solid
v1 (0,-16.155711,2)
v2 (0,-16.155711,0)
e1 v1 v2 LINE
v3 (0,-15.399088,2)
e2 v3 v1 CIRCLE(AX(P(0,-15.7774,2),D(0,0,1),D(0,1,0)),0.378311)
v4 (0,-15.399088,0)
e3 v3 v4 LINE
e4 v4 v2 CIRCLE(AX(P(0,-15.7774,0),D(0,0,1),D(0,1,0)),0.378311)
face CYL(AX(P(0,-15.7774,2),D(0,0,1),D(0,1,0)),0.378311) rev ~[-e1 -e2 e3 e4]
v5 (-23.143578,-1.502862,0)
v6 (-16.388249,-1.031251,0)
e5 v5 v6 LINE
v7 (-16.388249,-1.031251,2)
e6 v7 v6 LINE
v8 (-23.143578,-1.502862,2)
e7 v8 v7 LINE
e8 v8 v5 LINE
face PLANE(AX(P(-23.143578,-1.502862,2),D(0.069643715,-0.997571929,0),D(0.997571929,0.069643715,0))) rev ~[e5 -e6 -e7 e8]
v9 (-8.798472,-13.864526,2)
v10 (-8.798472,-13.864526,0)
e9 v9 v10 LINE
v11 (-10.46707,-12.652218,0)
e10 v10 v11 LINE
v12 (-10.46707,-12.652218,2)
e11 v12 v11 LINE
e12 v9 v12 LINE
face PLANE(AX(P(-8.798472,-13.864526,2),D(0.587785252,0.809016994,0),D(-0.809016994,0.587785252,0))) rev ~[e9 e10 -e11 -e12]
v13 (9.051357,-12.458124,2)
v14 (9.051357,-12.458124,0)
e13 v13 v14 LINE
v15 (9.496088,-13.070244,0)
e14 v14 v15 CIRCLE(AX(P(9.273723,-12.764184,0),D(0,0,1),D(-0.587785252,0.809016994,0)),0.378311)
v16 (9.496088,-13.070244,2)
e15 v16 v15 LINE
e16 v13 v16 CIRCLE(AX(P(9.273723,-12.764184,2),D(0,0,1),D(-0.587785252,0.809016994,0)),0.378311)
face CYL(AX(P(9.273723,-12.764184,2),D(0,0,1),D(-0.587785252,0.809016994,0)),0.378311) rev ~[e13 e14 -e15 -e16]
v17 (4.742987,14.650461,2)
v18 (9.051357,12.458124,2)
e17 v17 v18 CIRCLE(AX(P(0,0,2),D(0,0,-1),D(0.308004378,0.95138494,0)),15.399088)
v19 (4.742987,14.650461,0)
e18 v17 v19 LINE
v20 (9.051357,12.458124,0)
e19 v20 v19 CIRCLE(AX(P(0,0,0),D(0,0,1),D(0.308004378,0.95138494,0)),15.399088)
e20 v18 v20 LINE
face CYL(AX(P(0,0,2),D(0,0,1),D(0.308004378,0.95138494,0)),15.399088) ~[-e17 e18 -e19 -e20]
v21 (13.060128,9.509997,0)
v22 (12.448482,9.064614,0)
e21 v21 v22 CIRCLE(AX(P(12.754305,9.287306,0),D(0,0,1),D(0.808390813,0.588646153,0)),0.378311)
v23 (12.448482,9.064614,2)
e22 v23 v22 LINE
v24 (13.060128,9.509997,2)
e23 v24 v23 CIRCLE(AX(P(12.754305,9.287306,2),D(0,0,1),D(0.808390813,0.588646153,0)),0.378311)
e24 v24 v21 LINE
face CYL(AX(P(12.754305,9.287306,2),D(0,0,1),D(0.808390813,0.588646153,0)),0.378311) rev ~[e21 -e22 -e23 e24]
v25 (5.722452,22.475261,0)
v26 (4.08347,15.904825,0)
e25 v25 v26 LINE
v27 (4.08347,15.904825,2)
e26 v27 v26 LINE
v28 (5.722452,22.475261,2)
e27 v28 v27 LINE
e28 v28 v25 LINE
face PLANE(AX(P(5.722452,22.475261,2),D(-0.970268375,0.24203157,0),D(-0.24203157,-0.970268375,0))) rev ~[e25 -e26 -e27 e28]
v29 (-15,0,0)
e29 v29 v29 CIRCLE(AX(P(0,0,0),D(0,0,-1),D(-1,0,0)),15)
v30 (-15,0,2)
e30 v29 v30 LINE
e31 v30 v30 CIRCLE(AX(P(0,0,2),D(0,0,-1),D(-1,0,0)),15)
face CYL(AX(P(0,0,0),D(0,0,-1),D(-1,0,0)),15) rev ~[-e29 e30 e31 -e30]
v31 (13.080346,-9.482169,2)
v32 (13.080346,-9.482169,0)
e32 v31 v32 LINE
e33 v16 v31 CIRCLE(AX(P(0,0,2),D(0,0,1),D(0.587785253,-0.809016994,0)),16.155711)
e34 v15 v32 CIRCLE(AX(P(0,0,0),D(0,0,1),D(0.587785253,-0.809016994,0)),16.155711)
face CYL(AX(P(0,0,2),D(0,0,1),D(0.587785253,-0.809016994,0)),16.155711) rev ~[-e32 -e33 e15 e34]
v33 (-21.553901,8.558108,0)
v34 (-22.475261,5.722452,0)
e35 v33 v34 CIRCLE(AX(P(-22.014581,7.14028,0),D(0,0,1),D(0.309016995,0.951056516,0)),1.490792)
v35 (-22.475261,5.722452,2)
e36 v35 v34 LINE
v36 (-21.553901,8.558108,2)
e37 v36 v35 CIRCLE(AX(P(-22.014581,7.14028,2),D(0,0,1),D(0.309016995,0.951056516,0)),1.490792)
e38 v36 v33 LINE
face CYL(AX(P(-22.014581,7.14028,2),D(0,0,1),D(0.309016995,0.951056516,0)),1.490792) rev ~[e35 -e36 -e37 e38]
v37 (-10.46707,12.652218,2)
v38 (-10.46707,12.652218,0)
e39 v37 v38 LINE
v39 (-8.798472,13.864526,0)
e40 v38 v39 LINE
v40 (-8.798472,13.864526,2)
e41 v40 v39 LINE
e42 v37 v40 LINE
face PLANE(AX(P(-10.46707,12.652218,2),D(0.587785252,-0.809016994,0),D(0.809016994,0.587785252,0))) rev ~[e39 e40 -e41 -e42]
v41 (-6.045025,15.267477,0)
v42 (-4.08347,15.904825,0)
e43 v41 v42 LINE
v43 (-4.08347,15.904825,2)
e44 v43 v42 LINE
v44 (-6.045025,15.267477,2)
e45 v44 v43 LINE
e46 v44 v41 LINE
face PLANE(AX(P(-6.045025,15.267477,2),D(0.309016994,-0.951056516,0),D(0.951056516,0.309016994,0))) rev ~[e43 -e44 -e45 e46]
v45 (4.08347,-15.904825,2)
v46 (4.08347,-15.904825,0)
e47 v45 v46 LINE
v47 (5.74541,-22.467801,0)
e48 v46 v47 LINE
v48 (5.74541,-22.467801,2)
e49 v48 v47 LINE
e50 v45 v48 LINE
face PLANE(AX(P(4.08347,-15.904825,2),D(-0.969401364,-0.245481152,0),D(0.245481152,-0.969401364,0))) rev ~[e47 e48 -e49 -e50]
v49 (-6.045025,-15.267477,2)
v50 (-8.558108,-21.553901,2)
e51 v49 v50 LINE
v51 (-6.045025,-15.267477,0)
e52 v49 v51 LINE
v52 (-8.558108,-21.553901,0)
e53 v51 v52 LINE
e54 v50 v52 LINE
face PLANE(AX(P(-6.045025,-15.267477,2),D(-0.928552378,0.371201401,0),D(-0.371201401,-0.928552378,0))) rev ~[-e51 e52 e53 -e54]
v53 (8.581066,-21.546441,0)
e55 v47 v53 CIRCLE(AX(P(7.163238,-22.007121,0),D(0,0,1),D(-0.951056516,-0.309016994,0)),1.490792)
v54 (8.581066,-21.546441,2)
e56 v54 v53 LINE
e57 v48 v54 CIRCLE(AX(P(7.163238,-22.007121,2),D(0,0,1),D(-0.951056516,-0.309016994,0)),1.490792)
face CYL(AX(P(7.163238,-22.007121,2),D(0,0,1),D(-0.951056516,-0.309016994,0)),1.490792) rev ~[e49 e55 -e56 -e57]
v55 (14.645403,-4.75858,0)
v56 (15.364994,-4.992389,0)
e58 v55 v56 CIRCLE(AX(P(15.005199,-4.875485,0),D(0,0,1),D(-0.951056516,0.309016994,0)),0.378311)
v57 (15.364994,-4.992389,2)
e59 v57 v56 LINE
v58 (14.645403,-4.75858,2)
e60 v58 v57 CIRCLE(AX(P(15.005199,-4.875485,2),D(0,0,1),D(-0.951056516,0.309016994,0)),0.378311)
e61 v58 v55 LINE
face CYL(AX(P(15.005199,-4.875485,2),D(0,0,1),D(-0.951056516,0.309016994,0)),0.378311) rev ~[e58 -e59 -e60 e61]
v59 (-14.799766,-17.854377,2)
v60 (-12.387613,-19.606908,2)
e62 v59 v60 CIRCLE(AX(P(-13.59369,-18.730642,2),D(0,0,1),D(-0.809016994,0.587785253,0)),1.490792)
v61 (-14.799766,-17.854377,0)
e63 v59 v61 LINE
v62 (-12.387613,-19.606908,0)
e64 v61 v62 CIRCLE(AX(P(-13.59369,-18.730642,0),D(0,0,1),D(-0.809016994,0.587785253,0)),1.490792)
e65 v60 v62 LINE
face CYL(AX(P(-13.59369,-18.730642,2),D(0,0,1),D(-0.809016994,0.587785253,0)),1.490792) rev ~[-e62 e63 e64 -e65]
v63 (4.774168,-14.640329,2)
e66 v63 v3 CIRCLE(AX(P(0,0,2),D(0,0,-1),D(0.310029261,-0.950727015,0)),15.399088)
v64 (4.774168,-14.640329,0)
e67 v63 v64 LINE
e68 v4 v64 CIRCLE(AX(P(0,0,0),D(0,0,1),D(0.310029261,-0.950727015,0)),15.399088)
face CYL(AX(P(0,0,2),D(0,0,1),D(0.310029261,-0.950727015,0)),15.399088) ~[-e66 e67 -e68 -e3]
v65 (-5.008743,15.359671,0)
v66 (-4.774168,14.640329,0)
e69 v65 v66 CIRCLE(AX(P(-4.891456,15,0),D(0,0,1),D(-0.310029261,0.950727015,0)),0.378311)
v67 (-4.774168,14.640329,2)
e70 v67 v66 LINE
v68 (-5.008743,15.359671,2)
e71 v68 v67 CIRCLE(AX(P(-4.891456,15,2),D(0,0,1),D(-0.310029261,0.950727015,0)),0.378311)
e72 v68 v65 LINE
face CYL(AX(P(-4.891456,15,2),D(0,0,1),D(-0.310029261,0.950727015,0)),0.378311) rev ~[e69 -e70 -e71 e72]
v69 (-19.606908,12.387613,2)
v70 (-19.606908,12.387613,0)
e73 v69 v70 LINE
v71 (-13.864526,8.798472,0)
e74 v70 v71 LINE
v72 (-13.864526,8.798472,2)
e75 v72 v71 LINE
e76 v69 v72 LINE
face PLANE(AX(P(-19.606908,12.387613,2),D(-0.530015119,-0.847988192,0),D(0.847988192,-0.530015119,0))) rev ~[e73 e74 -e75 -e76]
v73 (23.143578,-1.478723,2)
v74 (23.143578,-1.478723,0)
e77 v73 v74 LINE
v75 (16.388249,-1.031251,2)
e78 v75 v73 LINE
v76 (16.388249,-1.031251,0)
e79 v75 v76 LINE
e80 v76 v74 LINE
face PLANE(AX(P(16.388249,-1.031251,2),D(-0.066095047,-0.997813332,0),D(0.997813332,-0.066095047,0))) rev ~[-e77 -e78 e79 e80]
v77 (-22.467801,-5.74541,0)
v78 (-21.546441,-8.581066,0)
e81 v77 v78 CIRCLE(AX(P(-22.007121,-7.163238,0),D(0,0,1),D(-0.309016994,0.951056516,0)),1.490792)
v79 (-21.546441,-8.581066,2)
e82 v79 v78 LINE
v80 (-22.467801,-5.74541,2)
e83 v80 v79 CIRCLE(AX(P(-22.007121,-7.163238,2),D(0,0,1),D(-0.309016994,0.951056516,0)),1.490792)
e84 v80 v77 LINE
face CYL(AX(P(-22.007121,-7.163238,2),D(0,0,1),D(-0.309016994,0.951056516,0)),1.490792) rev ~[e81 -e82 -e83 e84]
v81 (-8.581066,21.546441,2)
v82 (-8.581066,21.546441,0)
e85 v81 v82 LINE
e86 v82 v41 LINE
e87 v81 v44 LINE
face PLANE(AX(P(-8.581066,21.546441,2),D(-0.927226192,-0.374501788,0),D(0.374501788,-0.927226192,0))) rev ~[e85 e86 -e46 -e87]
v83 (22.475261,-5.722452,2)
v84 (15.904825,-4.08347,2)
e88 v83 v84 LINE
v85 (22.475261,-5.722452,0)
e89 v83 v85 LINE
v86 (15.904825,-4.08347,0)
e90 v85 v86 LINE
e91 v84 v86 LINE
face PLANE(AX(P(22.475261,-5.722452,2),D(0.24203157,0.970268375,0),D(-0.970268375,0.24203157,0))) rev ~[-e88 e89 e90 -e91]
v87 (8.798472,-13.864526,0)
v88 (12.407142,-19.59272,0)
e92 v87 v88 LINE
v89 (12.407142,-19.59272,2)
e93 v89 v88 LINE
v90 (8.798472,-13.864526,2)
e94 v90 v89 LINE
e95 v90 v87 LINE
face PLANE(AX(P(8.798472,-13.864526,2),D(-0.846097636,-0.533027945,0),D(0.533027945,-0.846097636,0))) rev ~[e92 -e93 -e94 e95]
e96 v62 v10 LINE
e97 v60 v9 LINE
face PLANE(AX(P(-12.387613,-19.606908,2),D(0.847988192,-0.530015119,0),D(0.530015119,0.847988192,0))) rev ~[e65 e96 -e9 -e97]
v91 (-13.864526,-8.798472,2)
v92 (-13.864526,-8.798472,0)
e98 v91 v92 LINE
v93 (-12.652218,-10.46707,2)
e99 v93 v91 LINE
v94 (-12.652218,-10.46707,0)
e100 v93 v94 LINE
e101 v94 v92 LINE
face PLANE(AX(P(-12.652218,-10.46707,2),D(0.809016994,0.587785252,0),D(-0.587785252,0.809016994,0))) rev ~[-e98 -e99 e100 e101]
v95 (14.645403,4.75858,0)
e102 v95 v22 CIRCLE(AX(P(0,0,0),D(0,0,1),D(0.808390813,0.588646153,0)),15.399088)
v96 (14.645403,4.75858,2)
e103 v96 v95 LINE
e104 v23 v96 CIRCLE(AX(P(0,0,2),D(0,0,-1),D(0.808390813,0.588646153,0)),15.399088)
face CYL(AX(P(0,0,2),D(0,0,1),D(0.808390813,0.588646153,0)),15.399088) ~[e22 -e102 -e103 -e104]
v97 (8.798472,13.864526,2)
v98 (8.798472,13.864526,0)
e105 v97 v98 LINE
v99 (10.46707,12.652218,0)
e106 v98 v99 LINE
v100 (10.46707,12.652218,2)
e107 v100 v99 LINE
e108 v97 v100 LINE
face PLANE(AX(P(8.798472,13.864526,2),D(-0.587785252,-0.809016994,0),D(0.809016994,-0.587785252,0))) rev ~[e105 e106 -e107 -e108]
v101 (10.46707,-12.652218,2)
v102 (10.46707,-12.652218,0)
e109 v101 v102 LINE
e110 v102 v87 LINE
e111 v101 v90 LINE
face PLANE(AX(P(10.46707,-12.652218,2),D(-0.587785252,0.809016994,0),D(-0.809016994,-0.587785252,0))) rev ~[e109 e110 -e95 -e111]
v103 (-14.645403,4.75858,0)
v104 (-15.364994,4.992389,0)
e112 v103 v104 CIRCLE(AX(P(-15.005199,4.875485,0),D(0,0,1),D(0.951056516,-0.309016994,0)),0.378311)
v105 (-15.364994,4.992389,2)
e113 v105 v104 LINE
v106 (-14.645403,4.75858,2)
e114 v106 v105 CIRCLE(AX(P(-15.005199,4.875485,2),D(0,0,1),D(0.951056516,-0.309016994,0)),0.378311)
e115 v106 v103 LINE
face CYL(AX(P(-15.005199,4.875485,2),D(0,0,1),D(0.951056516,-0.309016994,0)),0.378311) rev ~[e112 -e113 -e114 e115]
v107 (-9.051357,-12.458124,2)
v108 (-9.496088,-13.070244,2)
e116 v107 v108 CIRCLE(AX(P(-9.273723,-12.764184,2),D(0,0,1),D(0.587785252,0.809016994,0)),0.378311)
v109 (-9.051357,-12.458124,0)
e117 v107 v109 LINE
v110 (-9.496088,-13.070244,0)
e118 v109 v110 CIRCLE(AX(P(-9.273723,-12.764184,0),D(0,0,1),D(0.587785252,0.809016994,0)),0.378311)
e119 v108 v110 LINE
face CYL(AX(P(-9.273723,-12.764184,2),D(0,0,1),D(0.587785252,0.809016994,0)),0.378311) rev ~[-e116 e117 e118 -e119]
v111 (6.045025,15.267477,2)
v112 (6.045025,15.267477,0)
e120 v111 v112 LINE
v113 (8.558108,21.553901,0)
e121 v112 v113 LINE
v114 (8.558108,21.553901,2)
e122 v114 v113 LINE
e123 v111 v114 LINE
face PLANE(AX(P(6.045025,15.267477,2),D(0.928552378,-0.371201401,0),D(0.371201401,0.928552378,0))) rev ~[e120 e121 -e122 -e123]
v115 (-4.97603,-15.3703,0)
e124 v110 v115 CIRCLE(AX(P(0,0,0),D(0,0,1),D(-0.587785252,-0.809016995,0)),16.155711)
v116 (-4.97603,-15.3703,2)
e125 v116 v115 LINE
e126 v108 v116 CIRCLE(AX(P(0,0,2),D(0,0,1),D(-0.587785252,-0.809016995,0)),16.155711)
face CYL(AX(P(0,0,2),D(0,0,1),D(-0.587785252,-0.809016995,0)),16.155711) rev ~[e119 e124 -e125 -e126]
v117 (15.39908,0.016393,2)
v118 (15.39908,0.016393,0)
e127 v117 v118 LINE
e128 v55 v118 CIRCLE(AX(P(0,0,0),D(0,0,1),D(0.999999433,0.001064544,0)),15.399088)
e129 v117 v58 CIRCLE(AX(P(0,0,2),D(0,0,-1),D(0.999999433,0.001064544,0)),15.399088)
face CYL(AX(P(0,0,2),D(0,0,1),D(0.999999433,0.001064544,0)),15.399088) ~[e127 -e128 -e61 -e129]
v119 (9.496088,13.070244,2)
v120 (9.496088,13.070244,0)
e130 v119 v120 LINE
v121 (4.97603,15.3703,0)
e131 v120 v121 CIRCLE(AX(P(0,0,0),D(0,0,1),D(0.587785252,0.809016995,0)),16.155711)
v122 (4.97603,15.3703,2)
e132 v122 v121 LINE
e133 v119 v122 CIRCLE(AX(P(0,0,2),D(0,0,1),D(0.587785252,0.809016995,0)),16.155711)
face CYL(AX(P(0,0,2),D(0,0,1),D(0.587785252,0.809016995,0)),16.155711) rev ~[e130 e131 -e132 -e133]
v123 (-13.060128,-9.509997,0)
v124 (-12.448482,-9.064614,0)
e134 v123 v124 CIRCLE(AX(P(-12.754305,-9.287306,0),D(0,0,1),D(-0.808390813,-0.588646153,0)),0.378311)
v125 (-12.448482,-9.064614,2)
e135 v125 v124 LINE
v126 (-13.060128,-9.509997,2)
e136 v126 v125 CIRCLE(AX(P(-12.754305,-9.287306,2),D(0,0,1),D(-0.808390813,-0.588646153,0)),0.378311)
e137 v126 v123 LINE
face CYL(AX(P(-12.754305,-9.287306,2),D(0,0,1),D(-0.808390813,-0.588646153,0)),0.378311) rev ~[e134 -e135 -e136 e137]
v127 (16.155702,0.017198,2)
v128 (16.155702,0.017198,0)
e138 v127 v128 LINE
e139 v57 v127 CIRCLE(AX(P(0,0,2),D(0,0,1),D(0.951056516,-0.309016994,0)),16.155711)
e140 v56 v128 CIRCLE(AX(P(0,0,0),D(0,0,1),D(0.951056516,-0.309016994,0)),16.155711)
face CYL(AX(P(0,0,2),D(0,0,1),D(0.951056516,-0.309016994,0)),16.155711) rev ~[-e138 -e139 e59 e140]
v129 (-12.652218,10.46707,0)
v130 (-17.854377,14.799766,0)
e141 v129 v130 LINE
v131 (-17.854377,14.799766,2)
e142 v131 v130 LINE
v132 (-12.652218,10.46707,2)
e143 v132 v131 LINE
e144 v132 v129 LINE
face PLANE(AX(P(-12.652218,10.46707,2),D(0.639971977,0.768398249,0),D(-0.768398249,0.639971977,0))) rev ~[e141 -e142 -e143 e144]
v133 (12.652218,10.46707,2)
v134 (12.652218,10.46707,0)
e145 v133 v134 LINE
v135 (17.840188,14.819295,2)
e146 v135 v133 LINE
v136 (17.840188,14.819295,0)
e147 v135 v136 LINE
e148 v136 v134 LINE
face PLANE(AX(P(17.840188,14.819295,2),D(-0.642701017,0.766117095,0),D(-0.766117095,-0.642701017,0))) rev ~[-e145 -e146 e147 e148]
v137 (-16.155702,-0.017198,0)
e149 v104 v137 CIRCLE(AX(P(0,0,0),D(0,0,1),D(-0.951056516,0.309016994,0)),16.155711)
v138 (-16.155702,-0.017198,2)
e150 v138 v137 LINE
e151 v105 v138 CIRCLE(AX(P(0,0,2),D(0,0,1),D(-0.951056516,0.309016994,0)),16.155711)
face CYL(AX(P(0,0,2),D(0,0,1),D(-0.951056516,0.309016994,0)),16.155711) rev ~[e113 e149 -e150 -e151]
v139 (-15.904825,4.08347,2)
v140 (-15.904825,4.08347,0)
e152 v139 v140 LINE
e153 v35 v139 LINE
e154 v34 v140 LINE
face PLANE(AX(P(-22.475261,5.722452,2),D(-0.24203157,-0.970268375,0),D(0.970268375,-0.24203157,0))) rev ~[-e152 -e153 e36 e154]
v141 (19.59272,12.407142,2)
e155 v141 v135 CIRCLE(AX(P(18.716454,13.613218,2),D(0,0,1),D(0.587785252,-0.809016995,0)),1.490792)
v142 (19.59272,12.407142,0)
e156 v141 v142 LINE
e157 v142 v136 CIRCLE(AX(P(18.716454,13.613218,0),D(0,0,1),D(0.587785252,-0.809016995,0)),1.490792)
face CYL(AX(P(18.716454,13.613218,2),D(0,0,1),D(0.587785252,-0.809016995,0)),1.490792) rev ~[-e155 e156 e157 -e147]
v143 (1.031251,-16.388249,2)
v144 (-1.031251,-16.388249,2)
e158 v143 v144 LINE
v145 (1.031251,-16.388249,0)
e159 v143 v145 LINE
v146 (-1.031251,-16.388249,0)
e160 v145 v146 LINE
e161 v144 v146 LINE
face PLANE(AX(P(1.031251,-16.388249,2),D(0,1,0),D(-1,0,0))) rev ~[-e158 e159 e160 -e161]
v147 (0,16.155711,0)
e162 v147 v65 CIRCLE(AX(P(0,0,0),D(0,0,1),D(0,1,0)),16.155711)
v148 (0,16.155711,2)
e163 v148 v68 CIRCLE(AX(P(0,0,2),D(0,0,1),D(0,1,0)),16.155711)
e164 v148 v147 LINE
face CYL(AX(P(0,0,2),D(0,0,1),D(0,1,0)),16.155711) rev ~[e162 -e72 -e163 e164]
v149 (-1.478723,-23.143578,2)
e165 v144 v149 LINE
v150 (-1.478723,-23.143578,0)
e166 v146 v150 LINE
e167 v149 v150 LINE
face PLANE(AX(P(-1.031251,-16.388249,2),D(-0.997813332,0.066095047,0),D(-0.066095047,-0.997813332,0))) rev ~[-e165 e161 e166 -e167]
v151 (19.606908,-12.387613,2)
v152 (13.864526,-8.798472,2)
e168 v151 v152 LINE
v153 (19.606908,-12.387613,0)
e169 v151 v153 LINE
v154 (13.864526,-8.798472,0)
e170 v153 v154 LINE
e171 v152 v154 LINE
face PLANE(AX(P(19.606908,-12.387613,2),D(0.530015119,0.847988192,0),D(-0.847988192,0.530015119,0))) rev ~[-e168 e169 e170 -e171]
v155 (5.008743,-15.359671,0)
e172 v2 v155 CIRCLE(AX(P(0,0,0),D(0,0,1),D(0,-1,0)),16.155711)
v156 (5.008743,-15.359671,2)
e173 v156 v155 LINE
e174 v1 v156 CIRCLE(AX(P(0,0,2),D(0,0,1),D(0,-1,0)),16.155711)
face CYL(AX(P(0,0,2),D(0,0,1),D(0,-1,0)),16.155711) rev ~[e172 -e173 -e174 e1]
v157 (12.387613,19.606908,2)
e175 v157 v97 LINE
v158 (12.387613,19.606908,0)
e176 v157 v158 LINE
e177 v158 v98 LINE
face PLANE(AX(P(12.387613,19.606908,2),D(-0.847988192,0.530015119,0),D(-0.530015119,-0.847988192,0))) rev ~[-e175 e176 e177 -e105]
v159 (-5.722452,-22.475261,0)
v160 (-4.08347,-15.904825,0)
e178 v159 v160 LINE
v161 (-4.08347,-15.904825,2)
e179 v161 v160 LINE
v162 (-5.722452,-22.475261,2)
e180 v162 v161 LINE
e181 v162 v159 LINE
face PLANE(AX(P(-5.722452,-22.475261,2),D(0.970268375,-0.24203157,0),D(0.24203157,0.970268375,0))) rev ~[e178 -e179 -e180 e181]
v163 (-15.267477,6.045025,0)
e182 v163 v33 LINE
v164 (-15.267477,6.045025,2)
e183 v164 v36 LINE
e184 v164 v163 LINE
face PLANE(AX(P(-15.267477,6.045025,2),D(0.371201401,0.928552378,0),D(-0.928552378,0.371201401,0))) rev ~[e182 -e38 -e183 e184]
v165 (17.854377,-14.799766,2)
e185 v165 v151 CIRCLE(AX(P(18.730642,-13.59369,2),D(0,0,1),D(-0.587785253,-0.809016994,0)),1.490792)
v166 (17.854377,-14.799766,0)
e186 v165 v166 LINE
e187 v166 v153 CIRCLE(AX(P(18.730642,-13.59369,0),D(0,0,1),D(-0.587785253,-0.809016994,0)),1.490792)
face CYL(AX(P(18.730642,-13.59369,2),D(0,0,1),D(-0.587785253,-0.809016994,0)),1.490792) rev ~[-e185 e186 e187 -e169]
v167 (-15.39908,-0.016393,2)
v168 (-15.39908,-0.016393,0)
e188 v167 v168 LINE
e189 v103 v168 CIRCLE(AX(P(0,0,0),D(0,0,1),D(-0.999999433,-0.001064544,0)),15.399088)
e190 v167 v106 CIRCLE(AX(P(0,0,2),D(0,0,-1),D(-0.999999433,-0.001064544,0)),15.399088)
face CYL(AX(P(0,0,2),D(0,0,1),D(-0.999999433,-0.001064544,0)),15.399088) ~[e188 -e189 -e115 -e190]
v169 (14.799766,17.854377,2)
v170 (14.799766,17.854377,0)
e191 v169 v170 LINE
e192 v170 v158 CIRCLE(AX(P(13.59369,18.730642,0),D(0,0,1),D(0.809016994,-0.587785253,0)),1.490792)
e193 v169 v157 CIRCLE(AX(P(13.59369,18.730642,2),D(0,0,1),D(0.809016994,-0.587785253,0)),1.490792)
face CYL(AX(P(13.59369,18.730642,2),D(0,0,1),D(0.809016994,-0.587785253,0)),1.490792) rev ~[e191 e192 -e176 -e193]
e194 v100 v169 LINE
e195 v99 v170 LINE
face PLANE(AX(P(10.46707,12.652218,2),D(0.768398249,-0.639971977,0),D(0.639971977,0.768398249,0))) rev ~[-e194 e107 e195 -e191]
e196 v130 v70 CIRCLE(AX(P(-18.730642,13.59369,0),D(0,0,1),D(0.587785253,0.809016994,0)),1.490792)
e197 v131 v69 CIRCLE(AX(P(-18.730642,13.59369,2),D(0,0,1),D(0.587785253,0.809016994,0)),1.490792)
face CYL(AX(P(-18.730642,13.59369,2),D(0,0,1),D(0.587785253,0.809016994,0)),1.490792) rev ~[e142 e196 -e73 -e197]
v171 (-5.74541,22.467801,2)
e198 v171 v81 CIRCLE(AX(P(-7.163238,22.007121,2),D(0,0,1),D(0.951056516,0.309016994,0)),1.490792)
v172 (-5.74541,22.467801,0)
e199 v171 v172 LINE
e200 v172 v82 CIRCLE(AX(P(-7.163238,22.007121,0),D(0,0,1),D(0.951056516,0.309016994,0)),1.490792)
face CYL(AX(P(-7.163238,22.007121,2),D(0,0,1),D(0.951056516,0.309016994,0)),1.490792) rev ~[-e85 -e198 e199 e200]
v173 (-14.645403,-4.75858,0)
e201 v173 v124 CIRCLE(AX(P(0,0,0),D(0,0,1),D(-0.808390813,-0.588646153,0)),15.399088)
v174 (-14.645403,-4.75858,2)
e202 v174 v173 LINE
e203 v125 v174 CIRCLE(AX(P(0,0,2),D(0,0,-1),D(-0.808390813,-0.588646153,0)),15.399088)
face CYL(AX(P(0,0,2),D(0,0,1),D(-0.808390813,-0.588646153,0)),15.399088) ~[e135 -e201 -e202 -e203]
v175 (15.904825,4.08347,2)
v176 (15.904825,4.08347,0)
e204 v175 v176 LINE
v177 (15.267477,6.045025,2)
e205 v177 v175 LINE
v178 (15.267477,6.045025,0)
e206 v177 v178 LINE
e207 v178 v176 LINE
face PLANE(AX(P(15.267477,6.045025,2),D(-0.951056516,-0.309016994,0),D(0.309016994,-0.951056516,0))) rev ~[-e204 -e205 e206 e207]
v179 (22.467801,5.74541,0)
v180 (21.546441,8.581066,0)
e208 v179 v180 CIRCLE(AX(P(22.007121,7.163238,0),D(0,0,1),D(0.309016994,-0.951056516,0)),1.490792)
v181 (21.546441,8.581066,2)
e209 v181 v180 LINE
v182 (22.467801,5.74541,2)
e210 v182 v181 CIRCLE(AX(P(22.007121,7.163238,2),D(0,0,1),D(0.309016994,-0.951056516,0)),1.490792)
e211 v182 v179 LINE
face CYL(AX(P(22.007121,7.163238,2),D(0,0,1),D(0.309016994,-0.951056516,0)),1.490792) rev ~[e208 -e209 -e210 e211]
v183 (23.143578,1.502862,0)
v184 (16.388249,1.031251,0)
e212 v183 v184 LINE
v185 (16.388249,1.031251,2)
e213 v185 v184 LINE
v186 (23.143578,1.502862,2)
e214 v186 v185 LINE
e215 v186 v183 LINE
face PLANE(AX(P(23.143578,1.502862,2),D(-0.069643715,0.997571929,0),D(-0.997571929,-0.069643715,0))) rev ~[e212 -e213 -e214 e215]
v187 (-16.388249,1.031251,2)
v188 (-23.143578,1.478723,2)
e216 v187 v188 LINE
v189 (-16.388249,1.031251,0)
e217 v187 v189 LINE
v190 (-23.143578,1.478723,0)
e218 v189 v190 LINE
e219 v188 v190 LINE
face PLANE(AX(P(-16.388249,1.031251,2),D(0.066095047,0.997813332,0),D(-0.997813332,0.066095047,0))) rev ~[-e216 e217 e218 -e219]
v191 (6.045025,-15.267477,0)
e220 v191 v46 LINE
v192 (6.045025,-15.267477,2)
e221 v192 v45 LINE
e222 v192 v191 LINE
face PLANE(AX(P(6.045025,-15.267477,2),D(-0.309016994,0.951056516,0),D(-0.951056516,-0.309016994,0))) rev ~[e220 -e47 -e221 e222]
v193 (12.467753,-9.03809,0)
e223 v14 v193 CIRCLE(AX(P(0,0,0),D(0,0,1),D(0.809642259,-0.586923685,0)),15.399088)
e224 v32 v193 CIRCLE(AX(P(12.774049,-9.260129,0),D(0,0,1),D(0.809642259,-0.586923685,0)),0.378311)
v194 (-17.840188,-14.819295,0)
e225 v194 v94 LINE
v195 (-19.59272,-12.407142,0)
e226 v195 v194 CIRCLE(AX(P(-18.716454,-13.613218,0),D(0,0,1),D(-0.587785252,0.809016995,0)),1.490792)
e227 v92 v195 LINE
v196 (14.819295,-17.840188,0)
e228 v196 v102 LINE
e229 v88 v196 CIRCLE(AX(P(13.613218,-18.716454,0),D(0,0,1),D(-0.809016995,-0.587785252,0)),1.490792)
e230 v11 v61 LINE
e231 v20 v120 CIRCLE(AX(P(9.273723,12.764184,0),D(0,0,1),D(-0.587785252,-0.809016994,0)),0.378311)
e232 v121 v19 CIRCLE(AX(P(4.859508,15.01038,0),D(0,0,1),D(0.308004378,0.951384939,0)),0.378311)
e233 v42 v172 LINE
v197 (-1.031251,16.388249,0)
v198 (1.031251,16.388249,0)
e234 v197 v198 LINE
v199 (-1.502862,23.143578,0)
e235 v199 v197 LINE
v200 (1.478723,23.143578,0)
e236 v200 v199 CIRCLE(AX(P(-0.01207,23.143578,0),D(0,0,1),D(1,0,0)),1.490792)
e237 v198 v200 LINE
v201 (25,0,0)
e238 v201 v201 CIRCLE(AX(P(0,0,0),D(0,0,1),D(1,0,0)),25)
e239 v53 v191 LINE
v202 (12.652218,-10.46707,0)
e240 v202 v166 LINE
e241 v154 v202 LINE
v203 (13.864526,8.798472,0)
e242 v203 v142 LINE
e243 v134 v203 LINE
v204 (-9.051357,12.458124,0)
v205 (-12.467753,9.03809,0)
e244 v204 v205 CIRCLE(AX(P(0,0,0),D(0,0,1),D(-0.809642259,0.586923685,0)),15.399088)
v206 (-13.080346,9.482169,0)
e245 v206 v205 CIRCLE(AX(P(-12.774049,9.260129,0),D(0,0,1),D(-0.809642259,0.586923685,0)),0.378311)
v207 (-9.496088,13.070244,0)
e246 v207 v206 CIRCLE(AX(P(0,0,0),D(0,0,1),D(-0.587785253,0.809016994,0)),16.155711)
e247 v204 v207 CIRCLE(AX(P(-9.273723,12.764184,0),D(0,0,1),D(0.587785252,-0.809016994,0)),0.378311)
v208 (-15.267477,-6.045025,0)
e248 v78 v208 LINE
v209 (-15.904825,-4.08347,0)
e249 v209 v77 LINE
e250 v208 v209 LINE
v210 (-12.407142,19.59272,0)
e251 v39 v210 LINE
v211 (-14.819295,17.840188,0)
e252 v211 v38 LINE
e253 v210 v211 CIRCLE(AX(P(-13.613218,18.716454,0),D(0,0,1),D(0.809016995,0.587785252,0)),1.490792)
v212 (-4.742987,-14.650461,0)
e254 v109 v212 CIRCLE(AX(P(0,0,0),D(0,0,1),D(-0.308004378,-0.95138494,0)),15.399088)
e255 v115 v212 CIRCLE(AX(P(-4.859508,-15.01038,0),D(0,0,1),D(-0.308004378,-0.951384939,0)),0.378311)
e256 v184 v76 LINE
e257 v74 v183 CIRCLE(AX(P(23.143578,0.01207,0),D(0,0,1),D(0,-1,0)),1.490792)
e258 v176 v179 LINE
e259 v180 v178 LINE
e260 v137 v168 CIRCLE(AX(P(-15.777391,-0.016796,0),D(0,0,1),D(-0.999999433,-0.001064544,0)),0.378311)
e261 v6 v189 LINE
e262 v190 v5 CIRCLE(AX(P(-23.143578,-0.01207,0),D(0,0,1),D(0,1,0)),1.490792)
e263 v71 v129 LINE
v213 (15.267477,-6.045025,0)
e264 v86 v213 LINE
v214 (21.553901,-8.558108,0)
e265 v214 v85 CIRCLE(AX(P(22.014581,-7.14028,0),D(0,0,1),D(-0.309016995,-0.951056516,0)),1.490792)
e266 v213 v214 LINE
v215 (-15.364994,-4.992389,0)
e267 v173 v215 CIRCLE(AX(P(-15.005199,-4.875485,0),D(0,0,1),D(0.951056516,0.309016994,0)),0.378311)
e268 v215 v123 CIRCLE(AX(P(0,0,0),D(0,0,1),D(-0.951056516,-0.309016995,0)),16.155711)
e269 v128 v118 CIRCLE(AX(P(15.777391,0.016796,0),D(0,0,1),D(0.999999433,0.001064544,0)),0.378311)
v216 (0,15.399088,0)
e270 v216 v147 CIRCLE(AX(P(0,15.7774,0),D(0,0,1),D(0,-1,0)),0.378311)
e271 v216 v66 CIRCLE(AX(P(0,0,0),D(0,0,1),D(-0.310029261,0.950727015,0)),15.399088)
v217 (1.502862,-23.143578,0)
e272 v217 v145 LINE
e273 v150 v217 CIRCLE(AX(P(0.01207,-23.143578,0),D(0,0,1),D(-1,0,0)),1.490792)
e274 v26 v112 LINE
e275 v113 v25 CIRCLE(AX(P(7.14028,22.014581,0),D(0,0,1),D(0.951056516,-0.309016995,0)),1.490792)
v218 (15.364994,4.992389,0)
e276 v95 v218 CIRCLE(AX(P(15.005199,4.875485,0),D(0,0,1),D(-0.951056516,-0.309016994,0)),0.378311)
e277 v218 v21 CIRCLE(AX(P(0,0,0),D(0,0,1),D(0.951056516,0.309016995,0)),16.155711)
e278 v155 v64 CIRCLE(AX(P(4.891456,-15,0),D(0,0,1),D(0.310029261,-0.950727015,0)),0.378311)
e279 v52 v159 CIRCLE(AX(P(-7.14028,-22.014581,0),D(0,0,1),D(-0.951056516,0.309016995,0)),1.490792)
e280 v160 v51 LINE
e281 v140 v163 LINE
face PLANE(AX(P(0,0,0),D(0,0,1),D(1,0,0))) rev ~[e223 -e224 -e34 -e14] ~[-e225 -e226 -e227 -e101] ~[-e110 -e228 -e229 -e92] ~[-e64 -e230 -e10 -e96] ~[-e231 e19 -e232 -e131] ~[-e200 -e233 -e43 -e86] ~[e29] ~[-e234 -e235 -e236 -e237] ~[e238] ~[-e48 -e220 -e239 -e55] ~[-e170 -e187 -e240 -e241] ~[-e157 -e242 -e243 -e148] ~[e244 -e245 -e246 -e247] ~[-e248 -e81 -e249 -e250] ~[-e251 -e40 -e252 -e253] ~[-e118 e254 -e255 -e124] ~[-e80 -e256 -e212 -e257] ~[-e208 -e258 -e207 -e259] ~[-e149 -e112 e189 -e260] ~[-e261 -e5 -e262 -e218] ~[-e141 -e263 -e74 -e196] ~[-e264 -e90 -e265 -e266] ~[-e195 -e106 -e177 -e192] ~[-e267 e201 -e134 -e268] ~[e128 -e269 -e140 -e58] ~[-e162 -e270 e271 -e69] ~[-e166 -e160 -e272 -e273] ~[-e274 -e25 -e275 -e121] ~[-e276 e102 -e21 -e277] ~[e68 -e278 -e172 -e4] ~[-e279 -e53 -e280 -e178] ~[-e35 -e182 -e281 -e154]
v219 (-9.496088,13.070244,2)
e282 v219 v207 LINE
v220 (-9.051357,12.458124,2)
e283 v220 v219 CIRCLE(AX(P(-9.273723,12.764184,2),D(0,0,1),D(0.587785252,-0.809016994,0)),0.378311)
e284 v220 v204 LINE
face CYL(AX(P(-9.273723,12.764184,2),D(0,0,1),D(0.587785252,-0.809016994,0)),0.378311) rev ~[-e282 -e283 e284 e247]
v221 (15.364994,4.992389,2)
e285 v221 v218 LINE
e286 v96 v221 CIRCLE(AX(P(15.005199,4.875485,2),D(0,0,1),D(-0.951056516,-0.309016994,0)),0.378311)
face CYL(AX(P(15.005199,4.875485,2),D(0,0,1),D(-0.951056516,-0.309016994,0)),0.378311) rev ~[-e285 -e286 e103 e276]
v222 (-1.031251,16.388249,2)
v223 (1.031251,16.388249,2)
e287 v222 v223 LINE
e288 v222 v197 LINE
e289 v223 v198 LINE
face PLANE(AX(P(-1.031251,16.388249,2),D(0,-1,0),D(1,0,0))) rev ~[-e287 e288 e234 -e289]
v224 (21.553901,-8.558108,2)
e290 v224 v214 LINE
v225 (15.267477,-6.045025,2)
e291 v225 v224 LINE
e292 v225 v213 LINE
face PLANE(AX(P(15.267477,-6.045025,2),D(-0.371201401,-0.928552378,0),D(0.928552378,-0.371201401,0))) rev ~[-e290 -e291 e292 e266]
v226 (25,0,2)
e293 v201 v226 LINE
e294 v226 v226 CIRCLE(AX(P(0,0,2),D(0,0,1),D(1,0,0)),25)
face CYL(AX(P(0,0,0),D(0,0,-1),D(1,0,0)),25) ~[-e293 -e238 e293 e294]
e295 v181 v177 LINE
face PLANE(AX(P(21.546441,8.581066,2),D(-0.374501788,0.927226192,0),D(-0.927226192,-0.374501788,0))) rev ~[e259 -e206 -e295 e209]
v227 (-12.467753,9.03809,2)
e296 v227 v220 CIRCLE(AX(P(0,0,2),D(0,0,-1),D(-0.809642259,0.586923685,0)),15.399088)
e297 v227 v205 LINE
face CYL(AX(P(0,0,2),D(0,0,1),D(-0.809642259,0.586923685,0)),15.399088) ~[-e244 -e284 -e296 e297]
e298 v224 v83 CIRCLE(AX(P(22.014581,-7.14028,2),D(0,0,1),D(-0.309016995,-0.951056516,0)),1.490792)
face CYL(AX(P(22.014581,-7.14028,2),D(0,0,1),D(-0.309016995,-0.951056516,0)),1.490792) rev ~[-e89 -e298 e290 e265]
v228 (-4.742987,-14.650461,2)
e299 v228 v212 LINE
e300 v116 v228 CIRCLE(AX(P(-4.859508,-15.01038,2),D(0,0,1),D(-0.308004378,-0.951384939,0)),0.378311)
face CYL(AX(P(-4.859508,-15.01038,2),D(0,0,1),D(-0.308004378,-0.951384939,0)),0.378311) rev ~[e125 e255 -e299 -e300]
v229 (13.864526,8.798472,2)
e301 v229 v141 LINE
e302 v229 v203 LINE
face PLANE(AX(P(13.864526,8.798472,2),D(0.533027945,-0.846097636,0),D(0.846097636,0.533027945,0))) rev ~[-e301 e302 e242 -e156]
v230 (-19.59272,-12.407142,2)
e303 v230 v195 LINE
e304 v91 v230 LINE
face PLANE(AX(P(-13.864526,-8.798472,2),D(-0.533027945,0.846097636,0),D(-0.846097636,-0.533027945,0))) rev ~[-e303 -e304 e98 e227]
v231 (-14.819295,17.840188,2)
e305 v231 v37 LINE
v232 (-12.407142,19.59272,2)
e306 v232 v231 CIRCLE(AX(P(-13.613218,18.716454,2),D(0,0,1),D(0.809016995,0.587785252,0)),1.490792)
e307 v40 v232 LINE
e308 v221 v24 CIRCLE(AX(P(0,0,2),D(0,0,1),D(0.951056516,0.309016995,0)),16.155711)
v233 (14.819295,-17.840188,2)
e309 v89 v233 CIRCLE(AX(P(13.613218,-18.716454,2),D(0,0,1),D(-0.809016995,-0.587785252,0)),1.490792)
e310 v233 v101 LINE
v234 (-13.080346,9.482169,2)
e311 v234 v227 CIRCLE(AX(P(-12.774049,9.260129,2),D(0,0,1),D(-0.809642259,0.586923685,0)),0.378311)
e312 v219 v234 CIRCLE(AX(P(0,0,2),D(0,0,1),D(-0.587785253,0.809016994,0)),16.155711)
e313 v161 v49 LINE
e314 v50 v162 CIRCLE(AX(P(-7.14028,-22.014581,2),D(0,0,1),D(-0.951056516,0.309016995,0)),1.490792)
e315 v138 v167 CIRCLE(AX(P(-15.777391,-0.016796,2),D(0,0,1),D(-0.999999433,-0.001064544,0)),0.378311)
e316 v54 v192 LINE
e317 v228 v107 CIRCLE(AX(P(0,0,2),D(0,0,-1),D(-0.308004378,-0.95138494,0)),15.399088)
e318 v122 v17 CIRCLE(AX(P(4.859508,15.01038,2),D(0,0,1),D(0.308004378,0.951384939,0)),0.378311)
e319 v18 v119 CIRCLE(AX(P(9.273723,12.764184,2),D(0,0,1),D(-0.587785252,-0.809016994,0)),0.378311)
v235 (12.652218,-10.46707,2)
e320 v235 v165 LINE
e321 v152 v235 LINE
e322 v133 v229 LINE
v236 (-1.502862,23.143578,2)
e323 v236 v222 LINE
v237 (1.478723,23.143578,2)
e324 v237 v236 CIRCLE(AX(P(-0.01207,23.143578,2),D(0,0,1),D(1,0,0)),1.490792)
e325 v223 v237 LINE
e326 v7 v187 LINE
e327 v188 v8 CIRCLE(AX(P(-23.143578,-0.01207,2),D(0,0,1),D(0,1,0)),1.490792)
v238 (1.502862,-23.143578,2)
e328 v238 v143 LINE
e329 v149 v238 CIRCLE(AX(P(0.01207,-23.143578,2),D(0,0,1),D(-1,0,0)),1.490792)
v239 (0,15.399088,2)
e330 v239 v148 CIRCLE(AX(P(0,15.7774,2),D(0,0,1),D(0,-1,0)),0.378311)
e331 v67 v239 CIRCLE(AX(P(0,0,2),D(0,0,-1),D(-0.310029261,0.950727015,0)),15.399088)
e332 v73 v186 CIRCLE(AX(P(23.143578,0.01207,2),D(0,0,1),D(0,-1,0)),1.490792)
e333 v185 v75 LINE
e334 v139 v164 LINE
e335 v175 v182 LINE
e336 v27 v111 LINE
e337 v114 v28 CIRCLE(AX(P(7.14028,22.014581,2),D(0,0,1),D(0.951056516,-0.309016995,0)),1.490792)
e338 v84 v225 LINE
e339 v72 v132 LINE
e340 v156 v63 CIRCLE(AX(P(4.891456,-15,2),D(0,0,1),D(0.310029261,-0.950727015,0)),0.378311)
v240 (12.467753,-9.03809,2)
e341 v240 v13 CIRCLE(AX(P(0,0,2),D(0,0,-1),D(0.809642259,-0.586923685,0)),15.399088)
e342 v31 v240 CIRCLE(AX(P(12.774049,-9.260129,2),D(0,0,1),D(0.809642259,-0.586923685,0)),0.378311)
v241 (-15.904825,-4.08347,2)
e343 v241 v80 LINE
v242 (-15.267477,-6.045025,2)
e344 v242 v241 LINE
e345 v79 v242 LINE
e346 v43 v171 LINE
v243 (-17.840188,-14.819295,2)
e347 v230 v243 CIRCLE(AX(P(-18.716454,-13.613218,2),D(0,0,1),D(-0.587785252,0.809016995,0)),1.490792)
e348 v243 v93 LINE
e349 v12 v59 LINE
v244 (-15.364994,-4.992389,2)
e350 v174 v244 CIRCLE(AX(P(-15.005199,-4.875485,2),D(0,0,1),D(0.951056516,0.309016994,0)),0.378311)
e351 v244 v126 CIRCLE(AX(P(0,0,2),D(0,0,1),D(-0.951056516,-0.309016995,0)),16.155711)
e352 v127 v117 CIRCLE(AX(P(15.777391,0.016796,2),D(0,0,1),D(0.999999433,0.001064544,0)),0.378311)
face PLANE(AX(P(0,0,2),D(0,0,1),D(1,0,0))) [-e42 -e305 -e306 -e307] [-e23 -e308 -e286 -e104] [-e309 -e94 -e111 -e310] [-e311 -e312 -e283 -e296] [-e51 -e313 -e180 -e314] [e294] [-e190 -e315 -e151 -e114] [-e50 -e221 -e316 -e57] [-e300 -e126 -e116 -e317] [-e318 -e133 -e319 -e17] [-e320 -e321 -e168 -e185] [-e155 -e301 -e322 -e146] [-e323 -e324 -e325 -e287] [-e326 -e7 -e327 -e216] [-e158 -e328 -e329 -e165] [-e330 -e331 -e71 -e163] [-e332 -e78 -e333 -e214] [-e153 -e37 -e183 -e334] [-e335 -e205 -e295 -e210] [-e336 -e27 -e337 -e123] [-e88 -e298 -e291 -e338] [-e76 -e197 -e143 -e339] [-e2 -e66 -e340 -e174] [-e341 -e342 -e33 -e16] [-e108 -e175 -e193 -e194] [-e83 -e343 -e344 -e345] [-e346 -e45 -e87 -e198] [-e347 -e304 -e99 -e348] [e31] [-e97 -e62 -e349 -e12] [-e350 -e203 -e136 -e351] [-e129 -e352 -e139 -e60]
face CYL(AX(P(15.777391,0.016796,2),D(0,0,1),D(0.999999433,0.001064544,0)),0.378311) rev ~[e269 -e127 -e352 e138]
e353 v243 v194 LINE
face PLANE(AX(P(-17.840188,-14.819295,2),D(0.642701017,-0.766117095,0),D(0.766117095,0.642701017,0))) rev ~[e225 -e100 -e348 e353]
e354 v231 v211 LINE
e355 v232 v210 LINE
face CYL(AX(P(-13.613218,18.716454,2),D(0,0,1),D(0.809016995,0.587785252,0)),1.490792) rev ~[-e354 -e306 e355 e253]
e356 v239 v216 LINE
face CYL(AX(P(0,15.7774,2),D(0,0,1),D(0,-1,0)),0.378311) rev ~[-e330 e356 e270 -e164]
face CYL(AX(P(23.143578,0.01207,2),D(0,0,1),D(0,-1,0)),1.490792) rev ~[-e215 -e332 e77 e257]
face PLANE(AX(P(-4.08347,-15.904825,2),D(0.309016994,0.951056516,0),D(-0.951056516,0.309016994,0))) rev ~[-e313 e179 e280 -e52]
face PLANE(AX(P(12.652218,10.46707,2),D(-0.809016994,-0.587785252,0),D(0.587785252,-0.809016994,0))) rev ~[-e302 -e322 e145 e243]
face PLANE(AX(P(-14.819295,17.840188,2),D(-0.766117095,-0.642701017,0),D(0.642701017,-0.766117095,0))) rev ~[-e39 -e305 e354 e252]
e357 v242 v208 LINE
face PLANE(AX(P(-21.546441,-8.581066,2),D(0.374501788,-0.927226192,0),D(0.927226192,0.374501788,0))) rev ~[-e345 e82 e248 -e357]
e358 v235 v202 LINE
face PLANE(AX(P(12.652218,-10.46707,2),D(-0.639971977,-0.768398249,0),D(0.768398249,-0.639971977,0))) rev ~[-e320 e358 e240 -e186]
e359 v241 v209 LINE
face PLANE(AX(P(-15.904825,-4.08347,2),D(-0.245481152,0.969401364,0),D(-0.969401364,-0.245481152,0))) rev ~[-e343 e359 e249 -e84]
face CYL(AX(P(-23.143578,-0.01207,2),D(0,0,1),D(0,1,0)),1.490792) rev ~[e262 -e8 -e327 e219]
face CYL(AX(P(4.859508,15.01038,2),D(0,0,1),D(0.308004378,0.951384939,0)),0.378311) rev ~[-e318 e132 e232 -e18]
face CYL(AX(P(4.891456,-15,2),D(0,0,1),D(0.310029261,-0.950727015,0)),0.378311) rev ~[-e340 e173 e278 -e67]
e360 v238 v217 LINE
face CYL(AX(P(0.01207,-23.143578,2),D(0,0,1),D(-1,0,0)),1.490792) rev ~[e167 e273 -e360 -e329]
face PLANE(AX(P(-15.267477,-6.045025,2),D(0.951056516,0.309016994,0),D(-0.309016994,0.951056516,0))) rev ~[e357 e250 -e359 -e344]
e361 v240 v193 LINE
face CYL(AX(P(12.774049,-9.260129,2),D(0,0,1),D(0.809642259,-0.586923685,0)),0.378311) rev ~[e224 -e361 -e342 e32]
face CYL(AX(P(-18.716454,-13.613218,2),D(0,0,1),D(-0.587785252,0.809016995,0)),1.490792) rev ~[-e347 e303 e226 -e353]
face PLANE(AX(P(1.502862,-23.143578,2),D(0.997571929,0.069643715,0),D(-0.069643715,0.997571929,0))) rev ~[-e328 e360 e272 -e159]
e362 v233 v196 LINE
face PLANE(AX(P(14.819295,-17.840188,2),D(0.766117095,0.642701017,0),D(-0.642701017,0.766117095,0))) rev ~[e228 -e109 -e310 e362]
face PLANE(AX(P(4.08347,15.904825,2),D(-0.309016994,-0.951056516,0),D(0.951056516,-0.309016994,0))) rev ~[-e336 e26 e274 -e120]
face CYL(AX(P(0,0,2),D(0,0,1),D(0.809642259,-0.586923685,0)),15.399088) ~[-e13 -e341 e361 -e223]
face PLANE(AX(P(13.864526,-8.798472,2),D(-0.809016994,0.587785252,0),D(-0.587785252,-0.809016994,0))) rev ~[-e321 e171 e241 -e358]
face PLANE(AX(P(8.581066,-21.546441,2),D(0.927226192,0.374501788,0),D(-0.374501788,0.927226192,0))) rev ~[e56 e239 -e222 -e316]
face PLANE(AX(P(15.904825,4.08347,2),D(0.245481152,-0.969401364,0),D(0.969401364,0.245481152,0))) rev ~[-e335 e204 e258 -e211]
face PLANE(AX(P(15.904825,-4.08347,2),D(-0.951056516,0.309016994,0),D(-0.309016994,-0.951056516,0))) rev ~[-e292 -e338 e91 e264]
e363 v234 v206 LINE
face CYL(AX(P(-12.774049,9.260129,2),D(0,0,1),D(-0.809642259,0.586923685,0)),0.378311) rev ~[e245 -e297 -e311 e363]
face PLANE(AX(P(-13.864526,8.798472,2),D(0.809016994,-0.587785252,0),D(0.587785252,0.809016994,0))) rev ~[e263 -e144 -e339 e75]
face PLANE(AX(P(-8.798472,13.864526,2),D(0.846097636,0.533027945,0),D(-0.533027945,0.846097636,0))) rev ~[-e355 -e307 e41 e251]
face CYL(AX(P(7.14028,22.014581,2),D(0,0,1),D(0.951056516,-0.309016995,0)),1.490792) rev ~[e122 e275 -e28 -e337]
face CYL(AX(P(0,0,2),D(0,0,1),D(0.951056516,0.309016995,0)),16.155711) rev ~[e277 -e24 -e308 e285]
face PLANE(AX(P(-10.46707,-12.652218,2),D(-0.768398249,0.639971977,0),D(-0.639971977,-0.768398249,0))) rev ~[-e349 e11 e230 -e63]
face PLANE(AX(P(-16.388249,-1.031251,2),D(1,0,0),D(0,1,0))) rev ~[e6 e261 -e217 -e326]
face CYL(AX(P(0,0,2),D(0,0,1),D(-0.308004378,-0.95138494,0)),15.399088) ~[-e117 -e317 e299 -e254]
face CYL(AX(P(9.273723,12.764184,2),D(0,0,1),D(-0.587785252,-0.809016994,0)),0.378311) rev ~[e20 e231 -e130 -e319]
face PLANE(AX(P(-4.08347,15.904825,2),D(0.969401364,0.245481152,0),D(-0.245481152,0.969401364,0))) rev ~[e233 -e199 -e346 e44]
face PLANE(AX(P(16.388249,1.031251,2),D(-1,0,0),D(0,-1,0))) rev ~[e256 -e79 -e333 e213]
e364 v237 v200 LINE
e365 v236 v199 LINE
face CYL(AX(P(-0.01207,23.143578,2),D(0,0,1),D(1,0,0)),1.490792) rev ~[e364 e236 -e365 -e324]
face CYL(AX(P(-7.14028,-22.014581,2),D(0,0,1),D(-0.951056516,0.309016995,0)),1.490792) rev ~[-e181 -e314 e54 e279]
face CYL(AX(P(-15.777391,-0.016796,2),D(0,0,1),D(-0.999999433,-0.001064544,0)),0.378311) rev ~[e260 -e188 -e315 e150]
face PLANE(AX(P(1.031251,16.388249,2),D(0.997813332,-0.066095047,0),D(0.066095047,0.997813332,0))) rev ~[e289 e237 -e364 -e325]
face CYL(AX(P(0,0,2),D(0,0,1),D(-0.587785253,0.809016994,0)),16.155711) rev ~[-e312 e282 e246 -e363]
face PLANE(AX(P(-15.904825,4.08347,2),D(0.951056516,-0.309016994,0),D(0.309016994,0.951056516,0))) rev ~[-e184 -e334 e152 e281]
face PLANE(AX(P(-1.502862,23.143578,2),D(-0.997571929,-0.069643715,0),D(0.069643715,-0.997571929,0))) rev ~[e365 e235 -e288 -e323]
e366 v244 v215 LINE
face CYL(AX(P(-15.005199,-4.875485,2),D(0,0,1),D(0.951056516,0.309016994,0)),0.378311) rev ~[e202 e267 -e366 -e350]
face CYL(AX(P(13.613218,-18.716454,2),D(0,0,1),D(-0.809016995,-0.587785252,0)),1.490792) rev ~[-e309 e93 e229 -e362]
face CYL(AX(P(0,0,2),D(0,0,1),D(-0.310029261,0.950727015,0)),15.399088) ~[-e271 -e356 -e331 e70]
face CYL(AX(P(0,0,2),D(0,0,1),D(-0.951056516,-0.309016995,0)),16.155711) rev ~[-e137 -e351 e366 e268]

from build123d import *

# Parameters (mm, degrees)
SKETCH1_R           = 25
BOSS_EXTRUDE1_DEPTH = 2
SKETCH2_R           = 15
CUT_EXTRUDE1_DEPTH  = 5
CUT_EXTRUDE4_DEPTH  = 10
CIRPATTERN3_COUNT   = 20
CUT_EXTRUDE5_DEPTH  = 10
CIRPATTERN4_COUNT   = 10


with BuildPart() as part:
    # Sketch1 → Boss-Extrude1 (new body)
    with BuildSketch(Plane.XY):
        Circle(SKETCH1_R)
    extrude(amount=BOSS_EXTRUDE1_DEPTH)

    # Sketch2 → Cut-Extrude1 (cut)
    with BuildSketch(Plane(origin=(0, 0, 0), x_dir=(-1, 0, 0), z_dir=(0, 0, -1))):
        Circle(SKETCH2_R)
    extrude(amount=-CUT_EXTRUDE1_DEPTH, mode=Mode.SUBTRACT)

    # Sketch8 → Cut-Extrude4 (cut)
    with BuildSketch(Plane.XY.offset(2)):
        with BuildLine():
            Line((-1.502861851, 23.143578335), (-1.0312505, 16.38824879))
            Line((-1.0312505, 16.38824879), (1.0312505, 16.38824879))
            Line((1.0312505, 16.38824879), (1.478722794, 23.143578335))
            ThreePointArc((1.478722794, 23.143578335), (-0.012069528, 24.634370658), (-1.502861851, 23.143578335))
        make_face()
    cut_extrude4 = extrude(amount=-CUT_EXTRUDE4_DEPTH, mode=Mode.SUBTRACT)

    # CirPattern3: Cut-Extrude4 ×20 about axis
    cirpattern3_axis = Axis((0, 0, 0), (0, 0, 1))
    for i in range(1, CIRPATTERN3_COUNT):
        add(cut_extrude4.rotate(cirpattern3_axis, i * 360 / CIRPATTERN3_COUNT), mode=Mode.SUBTRACT)

    # Sketch9 → Cut-Extrude5 (cut)
    with BuildSketch(Plane.XY.offset(2)):
        with BuildLine():
            ThreePointArc((0, 16.155710659), (-2.535802961, 15.955459574), (-5.008743036, 15.359670572))
            ThreePointArc((-5.008743036, 15.359670572), (-5.251126101, 14.882712493), (-4.774168022, 14.640329428))
            ThreePointArc((-4.774168022, 14.640329428), (-2.417043421, 15.208215778), (0, 15.399088481))
            ThreePointArc((0, 15.399088481), (0.378311089, 15.77739957), (0, 16.155710659))
        make_face()
    cut_extrude5 = extrude(amount=-CUT_EXTRUDE5_DEPTH, mode=Mode.SUBTRACT)

    # CirPattern4: Cut-Extrude5 ×10 about axis
    cirpattern4_axis = Axis((0, 0, 0), (0, 0, 1))
    for i in range(1, CIRPATTERN4_COUNT):
        add(cut_extrude5.rotate(cirpattern4_axis, i * 360 / CIRPATTERN4_COUNT), mode=Mode.SUBTRACT)


solid = part.part
